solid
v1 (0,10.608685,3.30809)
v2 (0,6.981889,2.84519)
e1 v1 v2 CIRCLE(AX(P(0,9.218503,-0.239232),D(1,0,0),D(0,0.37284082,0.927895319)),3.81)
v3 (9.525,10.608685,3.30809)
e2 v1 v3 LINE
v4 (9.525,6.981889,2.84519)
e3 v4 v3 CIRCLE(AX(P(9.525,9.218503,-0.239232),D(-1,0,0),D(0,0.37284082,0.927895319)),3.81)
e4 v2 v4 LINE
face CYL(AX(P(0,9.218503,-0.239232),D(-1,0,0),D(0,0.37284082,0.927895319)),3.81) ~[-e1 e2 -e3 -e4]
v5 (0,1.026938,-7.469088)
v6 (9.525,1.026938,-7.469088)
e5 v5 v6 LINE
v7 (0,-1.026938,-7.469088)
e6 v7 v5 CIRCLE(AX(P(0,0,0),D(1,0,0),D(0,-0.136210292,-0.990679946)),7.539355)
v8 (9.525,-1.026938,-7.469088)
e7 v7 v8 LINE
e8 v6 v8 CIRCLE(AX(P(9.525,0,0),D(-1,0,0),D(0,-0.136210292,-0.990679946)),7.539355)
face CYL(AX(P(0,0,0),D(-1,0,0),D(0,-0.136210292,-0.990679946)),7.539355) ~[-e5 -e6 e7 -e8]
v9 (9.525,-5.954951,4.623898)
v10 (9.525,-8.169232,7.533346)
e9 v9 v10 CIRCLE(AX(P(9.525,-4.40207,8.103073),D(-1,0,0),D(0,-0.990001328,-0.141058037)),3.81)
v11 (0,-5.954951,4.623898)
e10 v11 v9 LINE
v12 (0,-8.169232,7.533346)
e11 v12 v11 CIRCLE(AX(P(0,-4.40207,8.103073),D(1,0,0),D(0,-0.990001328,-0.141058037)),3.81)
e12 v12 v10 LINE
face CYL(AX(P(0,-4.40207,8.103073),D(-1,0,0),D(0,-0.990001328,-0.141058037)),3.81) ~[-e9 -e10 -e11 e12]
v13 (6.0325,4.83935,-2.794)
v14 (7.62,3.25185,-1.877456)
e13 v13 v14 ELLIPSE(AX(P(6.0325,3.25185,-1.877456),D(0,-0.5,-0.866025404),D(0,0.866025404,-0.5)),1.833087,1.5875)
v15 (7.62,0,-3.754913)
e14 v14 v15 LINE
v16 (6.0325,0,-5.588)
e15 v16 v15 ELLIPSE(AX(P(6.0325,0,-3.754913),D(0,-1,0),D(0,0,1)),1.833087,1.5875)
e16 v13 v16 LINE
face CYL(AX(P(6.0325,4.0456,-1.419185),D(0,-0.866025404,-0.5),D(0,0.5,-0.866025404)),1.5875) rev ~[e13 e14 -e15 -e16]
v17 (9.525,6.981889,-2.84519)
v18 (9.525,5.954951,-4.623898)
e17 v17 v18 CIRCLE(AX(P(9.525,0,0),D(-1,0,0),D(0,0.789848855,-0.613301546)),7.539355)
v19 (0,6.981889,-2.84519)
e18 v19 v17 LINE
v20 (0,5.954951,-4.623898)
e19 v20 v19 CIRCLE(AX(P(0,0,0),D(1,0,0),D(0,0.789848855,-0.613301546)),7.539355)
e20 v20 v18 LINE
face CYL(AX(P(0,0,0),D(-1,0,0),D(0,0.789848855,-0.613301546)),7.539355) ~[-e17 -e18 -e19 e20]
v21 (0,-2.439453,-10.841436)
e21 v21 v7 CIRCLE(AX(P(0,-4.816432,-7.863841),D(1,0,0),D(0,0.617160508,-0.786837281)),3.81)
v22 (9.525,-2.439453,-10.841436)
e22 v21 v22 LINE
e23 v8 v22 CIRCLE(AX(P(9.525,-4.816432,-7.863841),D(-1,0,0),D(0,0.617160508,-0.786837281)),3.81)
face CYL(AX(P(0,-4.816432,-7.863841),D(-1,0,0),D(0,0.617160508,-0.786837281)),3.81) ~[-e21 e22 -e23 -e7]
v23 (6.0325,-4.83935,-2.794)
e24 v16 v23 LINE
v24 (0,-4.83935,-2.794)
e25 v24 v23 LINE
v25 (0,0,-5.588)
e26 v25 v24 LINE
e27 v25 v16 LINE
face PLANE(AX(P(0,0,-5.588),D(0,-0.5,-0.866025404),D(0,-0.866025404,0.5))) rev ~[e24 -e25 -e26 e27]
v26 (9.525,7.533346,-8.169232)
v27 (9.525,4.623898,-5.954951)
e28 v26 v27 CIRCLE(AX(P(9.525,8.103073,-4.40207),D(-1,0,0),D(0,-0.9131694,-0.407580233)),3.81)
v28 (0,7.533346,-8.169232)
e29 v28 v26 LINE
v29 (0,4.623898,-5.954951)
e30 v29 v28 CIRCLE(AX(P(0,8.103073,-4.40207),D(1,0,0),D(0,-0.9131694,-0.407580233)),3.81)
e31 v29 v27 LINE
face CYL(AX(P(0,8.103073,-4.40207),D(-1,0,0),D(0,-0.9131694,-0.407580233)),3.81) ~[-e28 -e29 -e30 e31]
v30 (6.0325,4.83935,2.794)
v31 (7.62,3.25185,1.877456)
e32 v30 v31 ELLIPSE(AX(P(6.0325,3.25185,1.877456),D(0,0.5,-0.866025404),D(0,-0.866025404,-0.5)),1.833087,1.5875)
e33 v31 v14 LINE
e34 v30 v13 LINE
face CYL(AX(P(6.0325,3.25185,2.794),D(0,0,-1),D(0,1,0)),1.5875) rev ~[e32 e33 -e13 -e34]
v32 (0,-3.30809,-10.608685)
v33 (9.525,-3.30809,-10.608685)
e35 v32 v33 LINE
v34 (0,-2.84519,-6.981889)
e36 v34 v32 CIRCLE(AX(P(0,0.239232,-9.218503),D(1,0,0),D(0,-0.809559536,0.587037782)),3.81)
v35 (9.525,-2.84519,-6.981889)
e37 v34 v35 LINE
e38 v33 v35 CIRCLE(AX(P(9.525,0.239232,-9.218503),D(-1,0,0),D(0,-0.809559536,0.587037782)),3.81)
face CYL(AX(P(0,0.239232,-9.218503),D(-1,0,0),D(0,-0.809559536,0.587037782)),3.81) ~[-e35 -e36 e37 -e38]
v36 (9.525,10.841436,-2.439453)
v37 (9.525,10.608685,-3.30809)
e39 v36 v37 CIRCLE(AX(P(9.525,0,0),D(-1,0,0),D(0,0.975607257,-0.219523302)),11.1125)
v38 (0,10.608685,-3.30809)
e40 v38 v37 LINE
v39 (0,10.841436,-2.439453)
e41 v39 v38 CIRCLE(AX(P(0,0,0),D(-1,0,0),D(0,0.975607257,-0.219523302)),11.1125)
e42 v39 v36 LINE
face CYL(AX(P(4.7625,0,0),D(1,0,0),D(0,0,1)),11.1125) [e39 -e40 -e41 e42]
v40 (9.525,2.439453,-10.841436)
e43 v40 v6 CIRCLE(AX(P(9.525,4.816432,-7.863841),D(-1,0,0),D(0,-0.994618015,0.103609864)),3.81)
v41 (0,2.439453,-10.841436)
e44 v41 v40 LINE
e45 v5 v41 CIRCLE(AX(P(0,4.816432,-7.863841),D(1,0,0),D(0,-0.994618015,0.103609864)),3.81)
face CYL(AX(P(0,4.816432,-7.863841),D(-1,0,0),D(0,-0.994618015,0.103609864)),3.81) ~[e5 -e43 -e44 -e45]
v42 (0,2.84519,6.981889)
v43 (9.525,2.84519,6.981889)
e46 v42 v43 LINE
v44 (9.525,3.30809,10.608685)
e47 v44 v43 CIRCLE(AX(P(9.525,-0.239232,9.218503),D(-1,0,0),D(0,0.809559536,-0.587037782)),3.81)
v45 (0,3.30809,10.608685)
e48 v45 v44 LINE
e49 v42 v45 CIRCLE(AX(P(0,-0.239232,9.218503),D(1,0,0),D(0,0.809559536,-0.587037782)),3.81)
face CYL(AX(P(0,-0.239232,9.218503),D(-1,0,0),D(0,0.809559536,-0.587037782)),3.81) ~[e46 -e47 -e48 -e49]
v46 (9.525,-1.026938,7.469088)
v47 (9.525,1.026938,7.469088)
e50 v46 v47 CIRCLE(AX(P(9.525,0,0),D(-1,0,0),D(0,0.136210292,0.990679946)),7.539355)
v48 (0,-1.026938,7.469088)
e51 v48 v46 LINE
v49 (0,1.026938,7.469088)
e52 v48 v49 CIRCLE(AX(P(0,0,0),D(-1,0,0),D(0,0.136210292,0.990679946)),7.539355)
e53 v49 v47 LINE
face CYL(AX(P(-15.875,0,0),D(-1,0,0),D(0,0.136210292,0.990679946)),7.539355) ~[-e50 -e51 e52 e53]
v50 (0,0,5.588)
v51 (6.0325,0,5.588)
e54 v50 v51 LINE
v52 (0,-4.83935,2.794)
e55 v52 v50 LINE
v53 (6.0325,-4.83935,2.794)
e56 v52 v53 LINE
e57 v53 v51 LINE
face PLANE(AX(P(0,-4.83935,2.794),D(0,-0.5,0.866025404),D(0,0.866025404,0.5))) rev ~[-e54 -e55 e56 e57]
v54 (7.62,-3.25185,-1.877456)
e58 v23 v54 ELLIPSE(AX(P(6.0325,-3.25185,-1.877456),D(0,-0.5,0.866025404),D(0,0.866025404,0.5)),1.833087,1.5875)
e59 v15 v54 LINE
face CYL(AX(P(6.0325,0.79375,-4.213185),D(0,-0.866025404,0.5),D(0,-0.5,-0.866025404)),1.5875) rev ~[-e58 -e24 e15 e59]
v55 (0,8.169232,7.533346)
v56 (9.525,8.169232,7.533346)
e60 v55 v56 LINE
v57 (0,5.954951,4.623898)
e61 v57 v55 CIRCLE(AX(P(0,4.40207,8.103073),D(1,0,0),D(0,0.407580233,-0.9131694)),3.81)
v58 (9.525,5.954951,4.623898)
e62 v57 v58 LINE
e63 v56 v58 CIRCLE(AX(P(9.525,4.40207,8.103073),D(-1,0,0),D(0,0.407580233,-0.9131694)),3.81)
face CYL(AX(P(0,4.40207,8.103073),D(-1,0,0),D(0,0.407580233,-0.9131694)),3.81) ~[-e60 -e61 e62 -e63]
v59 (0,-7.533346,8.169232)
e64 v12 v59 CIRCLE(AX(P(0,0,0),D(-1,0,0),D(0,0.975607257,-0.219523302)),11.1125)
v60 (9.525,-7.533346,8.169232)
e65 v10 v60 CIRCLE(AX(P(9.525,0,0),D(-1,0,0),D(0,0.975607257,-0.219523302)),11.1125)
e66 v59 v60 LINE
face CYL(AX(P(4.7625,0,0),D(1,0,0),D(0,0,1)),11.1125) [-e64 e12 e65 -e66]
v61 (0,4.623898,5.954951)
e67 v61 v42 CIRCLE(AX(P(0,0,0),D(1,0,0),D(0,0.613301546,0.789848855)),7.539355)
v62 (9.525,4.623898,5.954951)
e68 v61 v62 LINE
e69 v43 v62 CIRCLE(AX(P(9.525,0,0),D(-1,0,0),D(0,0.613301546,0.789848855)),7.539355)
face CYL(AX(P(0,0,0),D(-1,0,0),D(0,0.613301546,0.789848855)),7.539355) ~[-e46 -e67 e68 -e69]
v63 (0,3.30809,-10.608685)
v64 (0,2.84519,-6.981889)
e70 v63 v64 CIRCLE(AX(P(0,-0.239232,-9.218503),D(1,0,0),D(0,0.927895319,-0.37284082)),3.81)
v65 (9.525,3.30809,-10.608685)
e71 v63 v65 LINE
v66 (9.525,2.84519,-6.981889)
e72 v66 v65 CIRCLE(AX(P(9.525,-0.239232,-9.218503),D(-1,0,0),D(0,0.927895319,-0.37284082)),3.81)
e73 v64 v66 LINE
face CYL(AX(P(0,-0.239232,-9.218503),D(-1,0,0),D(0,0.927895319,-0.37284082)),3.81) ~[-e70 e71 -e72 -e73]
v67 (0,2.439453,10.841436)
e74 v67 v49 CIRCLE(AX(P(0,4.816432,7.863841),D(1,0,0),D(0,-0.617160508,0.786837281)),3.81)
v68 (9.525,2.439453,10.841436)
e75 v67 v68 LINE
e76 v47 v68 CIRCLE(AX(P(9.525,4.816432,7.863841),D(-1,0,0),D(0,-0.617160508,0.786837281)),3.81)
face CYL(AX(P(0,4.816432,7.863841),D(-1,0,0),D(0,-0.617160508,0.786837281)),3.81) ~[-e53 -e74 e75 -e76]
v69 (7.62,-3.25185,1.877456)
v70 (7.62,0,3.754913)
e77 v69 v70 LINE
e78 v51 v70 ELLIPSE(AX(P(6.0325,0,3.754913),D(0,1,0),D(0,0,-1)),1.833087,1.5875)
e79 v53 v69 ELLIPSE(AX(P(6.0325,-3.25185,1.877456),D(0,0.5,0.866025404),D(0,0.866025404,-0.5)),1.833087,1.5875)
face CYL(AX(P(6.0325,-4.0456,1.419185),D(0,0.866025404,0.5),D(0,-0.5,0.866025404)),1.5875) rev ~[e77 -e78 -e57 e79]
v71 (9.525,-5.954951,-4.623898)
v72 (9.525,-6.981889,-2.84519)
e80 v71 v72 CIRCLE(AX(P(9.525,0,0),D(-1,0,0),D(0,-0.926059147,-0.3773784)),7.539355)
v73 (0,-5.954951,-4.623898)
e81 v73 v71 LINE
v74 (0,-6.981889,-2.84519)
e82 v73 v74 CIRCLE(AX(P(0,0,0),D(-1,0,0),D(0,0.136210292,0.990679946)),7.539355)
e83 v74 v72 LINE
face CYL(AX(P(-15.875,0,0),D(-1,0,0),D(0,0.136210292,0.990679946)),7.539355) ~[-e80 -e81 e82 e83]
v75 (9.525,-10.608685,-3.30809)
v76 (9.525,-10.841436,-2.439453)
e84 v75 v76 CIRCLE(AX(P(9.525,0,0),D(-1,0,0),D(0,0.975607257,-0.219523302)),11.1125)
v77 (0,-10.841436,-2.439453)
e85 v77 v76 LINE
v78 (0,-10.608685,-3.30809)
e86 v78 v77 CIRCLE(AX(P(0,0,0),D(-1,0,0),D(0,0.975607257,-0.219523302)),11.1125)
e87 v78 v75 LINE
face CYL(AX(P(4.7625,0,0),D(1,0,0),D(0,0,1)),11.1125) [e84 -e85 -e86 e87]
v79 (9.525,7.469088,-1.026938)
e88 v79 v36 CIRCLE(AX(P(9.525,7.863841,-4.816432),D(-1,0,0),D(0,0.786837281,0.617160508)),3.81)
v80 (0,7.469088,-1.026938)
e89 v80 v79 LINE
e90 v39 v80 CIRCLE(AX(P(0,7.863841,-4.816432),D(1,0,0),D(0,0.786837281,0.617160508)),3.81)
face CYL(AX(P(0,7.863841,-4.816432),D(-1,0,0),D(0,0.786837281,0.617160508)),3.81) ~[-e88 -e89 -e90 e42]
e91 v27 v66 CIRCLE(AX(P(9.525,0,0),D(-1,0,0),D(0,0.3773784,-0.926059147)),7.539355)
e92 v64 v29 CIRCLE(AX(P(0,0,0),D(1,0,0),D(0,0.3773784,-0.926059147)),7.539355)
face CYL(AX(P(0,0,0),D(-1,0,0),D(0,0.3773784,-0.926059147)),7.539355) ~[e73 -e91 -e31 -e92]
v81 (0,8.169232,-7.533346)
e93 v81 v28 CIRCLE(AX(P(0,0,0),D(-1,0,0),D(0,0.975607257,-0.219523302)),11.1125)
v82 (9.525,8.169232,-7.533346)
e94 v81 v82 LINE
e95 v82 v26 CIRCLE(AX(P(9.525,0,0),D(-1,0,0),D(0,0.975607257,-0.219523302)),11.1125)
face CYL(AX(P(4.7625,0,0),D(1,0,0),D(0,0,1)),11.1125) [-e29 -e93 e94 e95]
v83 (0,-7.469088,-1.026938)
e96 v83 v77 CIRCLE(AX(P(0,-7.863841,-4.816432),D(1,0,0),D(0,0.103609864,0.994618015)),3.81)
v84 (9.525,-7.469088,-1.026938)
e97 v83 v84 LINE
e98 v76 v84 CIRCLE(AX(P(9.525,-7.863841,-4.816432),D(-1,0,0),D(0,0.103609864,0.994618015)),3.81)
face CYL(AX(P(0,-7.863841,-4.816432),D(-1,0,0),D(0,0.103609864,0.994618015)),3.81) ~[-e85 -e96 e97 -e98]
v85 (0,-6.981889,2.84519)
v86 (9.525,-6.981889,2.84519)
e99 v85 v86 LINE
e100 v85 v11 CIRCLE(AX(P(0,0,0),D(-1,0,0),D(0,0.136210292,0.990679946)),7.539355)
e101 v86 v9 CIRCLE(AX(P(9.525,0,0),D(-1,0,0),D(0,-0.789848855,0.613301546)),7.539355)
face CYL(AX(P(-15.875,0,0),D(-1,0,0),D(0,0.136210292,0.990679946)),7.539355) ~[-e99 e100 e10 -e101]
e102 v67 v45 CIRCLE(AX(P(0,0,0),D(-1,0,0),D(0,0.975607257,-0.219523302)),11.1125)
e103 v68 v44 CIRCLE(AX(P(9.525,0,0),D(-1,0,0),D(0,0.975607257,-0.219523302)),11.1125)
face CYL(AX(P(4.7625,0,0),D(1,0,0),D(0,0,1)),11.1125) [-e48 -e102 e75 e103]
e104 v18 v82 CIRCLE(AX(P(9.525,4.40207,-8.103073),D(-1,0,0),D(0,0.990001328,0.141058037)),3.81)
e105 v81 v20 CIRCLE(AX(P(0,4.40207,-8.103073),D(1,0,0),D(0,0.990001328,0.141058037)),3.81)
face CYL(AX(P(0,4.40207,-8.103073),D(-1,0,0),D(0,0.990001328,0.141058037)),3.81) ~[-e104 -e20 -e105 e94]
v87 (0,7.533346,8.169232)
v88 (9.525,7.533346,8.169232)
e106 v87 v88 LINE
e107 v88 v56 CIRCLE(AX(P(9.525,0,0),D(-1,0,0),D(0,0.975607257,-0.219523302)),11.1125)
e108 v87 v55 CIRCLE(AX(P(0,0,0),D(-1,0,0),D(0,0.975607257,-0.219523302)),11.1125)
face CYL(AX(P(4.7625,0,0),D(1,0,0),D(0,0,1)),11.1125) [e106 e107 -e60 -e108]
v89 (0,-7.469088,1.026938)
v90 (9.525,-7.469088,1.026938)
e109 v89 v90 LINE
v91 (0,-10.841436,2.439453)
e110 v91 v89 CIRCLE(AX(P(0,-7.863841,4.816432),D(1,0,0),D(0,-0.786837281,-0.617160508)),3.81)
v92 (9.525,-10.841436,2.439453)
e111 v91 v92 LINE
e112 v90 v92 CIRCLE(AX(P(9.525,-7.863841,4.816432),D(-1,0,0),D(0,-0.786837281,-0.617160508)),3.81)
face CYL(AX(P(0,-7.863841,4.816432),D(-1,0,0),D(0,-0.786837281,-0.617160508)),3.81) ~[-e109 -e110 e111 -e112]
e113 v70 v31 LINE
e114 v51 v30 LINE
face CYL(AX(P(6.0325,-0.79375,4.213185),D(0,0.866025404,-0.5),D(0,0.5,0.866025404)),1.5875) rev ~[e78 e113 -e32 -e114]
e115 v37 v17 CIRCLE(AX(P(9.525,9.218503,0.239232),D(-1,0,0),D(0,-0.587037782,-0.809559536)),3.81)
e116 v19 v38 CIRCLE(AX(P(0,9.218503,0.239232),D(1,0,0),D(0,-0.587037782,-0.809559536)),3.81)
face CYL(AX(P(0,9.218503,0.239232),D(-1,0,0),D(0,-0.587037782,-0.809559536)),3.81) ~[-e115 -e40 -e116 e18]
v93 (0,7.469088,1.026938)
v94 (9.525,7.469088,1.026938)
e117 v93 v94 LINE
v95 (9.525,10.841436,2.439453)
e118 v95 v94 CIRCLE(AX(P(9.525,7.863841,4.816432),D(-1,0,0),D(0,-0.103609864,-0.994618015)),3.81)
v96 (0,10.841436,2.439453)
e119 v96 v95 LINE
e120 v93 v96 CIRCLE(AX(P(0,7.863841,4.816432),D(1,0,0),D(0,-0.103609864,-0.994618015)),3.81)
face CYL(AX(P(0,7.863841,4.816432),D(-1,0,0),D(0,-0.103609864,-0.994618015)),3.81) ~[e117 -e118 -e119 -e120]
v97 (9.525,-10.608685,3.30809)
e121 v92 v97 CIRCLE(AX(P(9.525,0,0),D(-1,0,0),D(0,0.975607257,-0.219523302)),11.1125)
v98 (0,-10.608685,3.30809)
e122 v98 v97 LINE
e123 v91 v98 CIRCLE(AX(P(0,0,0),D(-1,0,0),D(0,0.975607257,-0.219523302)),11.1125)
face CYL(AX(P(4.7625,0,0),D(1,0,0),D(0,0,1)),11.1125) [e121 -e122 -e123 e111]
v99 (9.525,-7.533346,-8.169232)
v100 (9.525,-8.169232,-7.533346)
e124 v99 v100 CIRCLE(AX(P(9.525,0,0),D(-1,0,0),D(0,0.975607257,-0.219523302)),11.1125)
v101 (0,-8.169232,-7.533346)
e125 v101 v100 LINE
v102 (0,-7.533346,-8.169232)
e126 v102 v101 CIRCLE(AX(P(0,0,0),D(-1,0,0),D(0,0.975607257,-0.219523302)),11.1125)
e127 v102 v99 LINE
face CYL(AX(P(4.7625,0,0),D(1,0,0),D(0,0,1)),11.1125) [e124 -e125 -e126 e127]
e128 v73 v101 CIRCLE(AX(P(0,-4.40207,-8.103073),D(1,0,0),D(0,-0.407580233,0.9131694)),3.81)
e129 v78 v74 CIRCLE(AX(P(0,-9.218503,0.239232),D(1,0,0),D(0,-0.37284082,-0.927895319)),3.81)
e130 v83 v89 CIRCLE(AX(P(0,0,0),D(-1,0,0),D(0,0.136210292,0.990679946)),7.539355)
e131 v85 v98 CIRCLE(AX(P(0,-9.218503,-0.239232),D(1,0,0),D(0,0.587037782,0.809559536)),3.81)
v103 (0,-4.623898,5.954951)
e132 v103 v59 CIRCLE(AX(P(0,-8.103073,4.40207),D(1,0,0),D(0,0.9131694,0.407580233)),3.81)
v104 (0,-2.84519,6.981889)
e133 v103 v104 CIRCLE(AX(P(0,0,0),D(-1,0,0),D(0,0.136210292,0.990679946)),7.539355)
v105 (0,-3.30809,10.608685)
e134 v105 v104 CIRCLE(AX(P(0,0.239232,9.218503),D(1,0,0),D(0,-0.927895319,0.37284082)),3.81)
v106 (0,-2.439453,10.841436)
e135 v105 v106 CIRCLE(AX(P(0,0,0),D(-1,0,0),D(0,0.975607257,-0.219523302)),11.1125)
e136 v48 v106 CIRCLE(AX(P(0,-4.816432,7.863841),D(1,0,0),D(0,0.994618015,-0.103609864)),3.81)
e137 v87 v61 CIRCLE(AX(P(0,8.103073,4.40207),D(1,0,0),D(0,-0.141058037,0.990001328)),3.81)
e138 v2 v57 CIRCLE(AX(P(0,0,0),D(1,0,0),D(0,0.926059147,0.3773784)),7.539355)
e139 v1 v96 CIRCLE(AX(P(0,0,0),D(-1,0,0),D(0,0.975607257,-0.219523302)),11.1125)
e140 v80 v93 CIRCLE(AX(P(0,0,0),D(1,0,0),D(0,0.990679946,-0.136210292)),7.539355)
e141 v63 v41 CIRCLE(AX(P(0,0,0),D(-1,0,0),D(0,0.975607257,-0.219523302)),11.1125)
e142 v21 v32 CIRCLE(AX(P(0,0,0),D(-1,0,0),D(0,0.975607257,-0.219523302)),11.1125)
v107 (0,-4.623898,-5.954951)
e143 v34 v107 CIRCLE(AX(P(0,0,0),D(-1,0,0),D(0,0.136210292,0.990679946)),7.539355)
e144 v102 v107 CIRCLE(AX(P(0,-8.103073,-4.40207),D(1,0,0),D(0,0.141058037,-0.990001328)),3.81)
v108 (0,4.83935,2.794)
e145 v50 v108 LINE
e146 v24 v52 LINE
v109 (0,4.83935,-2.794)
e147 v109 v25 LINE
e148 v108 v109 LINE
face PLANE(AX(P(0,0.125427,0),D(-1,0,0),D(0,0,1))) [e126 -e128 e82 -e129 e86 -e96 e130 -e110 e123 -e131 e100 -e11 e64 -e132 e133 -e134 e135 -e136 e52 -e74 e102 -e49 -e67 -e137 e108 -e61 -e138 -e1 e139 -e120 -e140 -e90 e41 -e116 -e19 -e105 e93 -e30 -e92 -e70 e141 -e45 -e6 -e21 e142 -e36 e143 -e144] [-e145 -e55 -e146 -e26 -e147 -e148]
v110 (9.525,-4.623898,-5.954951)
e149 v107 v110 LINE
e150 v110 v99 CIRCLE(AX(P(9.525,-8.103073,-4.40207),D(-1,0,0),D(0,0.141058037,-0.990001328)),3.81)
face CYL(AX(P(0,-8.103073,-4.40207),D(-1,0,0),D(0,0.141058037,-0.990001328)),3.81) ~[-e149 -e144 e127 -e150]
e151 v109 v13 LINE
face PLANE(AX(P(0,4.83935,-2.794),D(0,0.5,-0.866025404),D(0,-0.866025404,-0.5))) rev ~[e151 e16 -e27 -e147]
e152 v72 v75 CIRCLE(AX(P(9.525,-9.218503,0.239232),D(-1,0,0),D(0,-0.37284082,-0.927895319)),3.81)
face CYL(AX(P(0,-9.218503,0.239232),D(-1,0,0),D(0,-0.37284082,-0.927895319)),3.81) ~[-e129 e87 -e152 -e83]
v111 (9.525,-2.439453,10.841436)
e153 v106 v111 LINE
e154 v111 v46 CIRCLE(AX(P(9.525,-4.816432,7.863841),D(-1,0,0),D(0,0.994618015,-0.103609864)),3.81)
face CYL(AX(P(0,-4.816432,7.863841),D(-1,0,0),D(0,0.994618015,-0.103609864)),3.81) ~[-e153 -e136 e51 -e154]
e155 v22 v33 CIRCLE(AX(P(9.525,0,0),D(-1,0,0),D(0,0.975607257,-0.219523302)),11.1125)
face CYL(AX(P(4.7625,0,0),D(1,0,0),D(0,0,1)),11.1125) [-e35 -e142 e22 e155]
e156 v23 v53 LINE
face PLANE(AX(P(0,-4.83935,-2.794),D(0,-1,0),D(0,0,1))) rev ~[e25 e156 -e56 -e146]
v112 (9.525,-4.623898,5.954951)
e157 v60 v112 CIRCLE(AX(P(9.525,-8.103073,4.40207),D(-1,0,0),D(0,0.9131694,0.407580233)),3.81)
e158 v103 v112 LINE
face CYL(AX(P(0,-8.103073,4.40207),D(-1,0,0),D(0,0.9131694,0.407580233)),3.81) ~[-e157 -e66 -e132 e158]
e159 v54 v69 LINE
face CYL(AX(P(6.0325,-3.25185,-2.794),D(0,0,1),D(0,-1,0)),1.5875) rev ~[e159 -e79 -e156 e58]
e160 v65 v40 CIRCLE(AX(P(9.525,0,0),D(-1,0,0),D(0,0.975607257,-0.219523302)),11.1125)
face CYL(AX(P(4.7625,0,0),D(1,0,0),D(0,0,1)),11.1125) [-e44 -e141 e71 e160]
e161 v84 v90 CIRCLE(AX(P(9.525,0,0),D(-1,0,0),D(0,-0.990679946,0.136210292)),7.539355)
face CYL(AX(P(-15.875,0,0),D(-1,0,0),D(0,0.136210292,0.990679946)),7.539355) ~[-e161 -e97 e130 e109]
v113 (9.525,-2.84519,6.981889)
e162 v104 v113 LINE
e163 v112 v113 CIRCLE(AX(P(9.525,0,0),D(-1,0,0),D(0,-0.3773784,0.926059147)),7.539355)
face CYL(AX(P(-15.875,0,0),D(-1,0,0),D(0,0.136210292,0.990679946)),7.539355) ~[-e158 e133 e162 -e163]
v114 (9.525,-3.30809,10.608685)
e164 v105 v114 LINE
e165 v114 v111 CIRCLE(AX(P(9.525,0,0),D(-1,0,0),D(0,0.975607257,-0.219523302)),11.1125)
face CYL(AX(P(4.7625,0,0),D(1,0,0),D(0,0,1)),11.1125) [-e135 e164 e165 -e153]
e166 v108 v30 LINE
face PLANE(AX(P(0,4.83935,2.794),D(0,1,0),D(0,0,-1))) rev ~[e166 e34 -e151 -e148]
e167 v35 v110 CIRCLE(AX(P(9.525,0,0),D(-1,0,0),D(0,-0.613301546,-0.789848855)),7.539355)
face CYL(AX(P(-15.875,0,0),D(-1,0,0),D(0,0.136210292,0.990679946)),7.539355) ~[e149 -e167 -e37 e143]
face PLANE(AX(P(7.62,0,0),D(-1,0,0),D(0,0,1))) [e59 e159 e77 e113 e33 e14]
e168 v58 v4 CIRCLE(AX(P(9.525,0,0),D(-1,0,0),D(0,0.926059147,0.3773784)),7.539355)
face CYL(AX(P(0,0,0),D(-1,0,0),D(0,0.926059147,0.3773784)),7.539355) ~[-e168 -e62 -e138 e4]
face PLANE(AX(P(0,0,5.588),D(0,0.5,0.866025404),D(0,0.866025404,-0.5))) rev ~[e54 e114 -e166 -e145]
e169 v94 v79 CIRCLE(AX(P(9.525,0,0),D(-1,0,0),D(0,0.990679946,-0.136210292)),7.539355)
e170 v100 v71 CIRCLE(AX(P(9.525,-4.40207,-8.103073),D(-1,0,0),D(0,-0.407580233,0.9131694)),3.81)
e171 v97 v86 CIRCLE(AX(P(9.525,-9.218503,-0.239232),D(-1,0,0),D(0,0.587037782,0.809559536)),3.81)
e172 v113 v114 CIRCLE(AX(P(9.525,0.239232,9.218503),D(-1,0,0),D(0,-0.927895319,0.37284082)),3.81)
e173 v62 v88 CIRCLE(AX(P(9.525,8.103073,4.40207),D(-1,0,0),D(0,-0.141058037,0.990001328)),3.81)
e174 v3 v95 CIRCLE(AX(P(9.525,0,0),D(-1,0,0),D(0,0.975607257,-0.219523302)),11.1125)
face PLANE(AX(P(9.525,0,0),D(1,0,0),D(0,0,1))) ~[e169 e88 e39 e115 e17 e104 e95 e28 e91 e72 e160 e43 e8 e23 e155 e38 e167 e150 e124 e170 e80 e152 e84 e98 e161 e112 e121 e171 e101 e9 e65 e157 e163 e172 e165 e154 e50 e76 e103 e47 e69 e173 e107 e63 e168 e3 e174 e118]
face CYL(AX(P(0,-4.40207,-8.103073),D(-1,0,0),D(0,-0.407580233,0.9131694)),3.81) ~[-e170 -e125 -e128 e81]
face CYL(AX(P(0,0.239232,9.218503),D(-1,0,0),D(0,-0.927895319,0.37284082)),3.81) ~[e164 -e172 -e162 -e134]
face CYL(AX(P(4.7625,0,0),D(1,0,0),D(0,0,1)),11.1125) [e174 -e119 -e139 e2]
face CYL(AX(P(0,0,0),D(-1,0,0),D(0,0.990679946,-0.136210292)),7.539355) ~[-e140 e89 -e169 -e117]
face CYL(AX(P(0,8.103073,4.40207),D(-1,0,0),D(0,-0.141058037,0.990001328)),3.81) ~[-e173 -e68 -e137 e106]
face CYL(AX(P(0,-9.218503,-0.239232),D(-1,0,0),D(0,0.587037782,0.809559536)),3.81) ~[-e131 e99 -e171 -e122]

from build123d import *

# Parameters (mm, degrees)
BASPROSKE_W         = 9.525
BASPROSKE_H         = 11.1125
TOOTHCUT_DEPTH      = 19.376641083
TEETHCUTS_COUNT     = 12
BORSKE_R            = 3.175
BORE_DEPTH          = 9.525
BOSS_EXTRUDE1_START = -25.4
SKETCH2_R           = 7.539355
BOSS_EXTRUDE1_DEPTH = 25.4
CUT_EXTRUDE1_DEPTH  = 20
SKETCH5_R           = 1.905
CUT_EXTRUDE2_DEPTH  = 24.605363577
SKETCH6_R           = 12.7
SKETCH6_R_2         = 5.7785
CUT_EXTRUDE3_DEPTH  = 15.875
SKETCH7_R           = 5.7785
CUT_EXTRUDE4_DEPTH  = 23.070094739
BOSS_EXTRUDE2_START = 4.125
BOSS_EXTRUDE2_DEPTH = 4.125
CUT_EXTRUDE5_DEPTH  = 7.62
FILLET1_R           = 1.5875


with BuildPart() as part:
    # BasProSke → Base-Revolve (revolve)
    with BuildSketch(Plane(origin=(0, 0, 0), x_dir=(1, 0, 0), z_dir=(0, 1, 0)), mode=Mode.PRIVATE) as base_revolve_sk:
        with Locations((4.7625, 5.55625)):
            Rectangle(BASPROSKE_W, BASPROSKE_H)
    revolve(base_revolve_sk.sketch.rotate(Axis((-10, 0, 0), (1, 0, 0)), 180), axis=Axis((-10, 0, 0), (1, 0, 0)))

    # TooCutSke → ToothCut (cut, through all)
    with BuildSketch(Plane(origin=(0, 0, 0), x_dir=(0, 0, -1), z_dir=(1, 0, 0))):
        with BuildLine():
            ThreePointArc((1.026937745, 7.469087808), (0, 7.539355), (-1.026937745, 7.469087808))
            ThreePointArc((-1.026937745, 7.469087808), (-1.30857978, 9.35080814), (-2.465050847, 10.861691431))
            ThreePointArc((-2.465050847, 10.861691431), (0, 11.1379), (2.465050847, 10.861691431))
            ThreePointArc((2.465050847, 10.861691431), (1.30857978, 9.35080814), (1.026937745, 7.469087808))
        make_face()
    toothcut = extrude(amount=TOOTHCUT_DEPTH, mode=Mode.SUBTRACT)

    # TeethCuts: ToothCut ×12 about axis
    teethcuts_axis = Axis((0, 0, 0), (1, 0, 0))
    for i in range(1, TEETHCUTS_COUNT):
        add(toothcut.rotate(teethcuts_axis, i * 360 / TEETHCUTS_COUNT), mode=Mode.SUBTRACT)

    # BorSke → Bore (cut, symmetric)
    with BuildSketch(Plane(origin=(0, 0, 0), x_dir=(0, 0, -1), z_dir=(1, 0, 0))):
        with Locations(Location((0, 0, 0), (0, 0, 180))):
            Circle(BORSKE_R)
    extrude(amount=BORE_DEPTH, both=True, mode=Mode.SUBTRACT)

    # Sketch2 → Boss-Extrude1 (add)
    with BuildSketch(Plane(origin=(9.525, 0, 0), x_dir=(0, 0, -1), z_dir=(1, 0, 0)).offset(BOSS_EXTRUDE1_START)):
        with Locations(Location((0, 0, 0), (0, 0, 172.171388978))):
            Circle(SKETCH2_R)
    extrude(amount=BOSS_EXTRUDE1_DEPTH)

    # Sketch3 → Cut-Extrude1 (cut)
    with BuildSketch(Plane.ZY.offset(15.875)):
        with BuildLine():
            Line((-1.778, 2.8575), (1.778, 2.8575))
            ThreePointArc((1.778, 2.8575), (0, -3.3655), (-1.778, 2.8575))
        make_face()
    extrude(amount=-CUT_EXTRUDE1_DEPTH, mode=Mode.SUBTRACT)

    # Sketch5 → Cut-Extrude2 (cut, through all)
    with BuildSketch(Plane.XZ.offset(-2.8575)):
        with Locations(Location((-12.065, 0, 0), (0, 0, 270))):
            Circle(SKETCH5_R)
    extrude(amount=-CUT_EXTRUDE2_DEPTH, mode=Mode.SUBTRACT)

    # Sketch6 → Cut-Extrude3 (cut)
    with BuildSketch(Plane.ZY.offset(15.875)):
        Circle(SKETCH6_R)
        Circle(SKETCH6_R_2, mode=Mode.SUBTRACT)
    extrude(amount=-CUT_EXTRUDE3_DEPTH, mode=Mode.SUBTRACT)

    # Sketch7 → Cut-Extrude4 (cut, through all)
    with BuildSketch(Plane.ZY):
        Circle(SKETCH7_R)
    extrude(amount=CUT_EXTRUDE4_DEPTH, mode=Mode.SUBTRACT)

    # Sketch8 → Boss-Extrude2 (add)
    with BuildSketch(Plane.ZY.offset(-4.125).offset(BOSS_EXTRUDE2_START)):
        with BuildLine():
            Line((1.778, 2.8575), (-1.778, 2.8575))
            ThreePointArc((-1.778, 2.8575), (0, -3.3655), (1.778, 2.8575))
        make_face()
    extrude(amount=-BOSS_EXTRUDE2_DEPTH)

    # Sketch9 → Cut-Extrude5 (cut)
    with BuildSketch(Plane.ZY):
        Polygon((5.588, 0), (2.794, 4.839349956), (-2.794, 4.839349956), (-5.588, 0), (-2.794, -4.839349956), (2.794, -4.839349956), align=None)
    extrude(amount=-CUT_EXTRUDE5_DEPTH, mode=Mode.SUBTRACT)

    # Fillet1
    fillet1_edges = [part.edges().sort_by_distance(p)[0] for p in [
        (7.62, 4.839349956, 0),
        (7.62, 2.419674978, 4.191),
        (7.62, -2.419674978, 4.191),
        (7.62, -4.839349956, 0),
        (7.62, -2.419674978, -4.191),
        (7.62, 2.419674978, -4.191),
    ]]
    fillet(fillet1_edges, radius=FILLET1_R)


solid = part.part
